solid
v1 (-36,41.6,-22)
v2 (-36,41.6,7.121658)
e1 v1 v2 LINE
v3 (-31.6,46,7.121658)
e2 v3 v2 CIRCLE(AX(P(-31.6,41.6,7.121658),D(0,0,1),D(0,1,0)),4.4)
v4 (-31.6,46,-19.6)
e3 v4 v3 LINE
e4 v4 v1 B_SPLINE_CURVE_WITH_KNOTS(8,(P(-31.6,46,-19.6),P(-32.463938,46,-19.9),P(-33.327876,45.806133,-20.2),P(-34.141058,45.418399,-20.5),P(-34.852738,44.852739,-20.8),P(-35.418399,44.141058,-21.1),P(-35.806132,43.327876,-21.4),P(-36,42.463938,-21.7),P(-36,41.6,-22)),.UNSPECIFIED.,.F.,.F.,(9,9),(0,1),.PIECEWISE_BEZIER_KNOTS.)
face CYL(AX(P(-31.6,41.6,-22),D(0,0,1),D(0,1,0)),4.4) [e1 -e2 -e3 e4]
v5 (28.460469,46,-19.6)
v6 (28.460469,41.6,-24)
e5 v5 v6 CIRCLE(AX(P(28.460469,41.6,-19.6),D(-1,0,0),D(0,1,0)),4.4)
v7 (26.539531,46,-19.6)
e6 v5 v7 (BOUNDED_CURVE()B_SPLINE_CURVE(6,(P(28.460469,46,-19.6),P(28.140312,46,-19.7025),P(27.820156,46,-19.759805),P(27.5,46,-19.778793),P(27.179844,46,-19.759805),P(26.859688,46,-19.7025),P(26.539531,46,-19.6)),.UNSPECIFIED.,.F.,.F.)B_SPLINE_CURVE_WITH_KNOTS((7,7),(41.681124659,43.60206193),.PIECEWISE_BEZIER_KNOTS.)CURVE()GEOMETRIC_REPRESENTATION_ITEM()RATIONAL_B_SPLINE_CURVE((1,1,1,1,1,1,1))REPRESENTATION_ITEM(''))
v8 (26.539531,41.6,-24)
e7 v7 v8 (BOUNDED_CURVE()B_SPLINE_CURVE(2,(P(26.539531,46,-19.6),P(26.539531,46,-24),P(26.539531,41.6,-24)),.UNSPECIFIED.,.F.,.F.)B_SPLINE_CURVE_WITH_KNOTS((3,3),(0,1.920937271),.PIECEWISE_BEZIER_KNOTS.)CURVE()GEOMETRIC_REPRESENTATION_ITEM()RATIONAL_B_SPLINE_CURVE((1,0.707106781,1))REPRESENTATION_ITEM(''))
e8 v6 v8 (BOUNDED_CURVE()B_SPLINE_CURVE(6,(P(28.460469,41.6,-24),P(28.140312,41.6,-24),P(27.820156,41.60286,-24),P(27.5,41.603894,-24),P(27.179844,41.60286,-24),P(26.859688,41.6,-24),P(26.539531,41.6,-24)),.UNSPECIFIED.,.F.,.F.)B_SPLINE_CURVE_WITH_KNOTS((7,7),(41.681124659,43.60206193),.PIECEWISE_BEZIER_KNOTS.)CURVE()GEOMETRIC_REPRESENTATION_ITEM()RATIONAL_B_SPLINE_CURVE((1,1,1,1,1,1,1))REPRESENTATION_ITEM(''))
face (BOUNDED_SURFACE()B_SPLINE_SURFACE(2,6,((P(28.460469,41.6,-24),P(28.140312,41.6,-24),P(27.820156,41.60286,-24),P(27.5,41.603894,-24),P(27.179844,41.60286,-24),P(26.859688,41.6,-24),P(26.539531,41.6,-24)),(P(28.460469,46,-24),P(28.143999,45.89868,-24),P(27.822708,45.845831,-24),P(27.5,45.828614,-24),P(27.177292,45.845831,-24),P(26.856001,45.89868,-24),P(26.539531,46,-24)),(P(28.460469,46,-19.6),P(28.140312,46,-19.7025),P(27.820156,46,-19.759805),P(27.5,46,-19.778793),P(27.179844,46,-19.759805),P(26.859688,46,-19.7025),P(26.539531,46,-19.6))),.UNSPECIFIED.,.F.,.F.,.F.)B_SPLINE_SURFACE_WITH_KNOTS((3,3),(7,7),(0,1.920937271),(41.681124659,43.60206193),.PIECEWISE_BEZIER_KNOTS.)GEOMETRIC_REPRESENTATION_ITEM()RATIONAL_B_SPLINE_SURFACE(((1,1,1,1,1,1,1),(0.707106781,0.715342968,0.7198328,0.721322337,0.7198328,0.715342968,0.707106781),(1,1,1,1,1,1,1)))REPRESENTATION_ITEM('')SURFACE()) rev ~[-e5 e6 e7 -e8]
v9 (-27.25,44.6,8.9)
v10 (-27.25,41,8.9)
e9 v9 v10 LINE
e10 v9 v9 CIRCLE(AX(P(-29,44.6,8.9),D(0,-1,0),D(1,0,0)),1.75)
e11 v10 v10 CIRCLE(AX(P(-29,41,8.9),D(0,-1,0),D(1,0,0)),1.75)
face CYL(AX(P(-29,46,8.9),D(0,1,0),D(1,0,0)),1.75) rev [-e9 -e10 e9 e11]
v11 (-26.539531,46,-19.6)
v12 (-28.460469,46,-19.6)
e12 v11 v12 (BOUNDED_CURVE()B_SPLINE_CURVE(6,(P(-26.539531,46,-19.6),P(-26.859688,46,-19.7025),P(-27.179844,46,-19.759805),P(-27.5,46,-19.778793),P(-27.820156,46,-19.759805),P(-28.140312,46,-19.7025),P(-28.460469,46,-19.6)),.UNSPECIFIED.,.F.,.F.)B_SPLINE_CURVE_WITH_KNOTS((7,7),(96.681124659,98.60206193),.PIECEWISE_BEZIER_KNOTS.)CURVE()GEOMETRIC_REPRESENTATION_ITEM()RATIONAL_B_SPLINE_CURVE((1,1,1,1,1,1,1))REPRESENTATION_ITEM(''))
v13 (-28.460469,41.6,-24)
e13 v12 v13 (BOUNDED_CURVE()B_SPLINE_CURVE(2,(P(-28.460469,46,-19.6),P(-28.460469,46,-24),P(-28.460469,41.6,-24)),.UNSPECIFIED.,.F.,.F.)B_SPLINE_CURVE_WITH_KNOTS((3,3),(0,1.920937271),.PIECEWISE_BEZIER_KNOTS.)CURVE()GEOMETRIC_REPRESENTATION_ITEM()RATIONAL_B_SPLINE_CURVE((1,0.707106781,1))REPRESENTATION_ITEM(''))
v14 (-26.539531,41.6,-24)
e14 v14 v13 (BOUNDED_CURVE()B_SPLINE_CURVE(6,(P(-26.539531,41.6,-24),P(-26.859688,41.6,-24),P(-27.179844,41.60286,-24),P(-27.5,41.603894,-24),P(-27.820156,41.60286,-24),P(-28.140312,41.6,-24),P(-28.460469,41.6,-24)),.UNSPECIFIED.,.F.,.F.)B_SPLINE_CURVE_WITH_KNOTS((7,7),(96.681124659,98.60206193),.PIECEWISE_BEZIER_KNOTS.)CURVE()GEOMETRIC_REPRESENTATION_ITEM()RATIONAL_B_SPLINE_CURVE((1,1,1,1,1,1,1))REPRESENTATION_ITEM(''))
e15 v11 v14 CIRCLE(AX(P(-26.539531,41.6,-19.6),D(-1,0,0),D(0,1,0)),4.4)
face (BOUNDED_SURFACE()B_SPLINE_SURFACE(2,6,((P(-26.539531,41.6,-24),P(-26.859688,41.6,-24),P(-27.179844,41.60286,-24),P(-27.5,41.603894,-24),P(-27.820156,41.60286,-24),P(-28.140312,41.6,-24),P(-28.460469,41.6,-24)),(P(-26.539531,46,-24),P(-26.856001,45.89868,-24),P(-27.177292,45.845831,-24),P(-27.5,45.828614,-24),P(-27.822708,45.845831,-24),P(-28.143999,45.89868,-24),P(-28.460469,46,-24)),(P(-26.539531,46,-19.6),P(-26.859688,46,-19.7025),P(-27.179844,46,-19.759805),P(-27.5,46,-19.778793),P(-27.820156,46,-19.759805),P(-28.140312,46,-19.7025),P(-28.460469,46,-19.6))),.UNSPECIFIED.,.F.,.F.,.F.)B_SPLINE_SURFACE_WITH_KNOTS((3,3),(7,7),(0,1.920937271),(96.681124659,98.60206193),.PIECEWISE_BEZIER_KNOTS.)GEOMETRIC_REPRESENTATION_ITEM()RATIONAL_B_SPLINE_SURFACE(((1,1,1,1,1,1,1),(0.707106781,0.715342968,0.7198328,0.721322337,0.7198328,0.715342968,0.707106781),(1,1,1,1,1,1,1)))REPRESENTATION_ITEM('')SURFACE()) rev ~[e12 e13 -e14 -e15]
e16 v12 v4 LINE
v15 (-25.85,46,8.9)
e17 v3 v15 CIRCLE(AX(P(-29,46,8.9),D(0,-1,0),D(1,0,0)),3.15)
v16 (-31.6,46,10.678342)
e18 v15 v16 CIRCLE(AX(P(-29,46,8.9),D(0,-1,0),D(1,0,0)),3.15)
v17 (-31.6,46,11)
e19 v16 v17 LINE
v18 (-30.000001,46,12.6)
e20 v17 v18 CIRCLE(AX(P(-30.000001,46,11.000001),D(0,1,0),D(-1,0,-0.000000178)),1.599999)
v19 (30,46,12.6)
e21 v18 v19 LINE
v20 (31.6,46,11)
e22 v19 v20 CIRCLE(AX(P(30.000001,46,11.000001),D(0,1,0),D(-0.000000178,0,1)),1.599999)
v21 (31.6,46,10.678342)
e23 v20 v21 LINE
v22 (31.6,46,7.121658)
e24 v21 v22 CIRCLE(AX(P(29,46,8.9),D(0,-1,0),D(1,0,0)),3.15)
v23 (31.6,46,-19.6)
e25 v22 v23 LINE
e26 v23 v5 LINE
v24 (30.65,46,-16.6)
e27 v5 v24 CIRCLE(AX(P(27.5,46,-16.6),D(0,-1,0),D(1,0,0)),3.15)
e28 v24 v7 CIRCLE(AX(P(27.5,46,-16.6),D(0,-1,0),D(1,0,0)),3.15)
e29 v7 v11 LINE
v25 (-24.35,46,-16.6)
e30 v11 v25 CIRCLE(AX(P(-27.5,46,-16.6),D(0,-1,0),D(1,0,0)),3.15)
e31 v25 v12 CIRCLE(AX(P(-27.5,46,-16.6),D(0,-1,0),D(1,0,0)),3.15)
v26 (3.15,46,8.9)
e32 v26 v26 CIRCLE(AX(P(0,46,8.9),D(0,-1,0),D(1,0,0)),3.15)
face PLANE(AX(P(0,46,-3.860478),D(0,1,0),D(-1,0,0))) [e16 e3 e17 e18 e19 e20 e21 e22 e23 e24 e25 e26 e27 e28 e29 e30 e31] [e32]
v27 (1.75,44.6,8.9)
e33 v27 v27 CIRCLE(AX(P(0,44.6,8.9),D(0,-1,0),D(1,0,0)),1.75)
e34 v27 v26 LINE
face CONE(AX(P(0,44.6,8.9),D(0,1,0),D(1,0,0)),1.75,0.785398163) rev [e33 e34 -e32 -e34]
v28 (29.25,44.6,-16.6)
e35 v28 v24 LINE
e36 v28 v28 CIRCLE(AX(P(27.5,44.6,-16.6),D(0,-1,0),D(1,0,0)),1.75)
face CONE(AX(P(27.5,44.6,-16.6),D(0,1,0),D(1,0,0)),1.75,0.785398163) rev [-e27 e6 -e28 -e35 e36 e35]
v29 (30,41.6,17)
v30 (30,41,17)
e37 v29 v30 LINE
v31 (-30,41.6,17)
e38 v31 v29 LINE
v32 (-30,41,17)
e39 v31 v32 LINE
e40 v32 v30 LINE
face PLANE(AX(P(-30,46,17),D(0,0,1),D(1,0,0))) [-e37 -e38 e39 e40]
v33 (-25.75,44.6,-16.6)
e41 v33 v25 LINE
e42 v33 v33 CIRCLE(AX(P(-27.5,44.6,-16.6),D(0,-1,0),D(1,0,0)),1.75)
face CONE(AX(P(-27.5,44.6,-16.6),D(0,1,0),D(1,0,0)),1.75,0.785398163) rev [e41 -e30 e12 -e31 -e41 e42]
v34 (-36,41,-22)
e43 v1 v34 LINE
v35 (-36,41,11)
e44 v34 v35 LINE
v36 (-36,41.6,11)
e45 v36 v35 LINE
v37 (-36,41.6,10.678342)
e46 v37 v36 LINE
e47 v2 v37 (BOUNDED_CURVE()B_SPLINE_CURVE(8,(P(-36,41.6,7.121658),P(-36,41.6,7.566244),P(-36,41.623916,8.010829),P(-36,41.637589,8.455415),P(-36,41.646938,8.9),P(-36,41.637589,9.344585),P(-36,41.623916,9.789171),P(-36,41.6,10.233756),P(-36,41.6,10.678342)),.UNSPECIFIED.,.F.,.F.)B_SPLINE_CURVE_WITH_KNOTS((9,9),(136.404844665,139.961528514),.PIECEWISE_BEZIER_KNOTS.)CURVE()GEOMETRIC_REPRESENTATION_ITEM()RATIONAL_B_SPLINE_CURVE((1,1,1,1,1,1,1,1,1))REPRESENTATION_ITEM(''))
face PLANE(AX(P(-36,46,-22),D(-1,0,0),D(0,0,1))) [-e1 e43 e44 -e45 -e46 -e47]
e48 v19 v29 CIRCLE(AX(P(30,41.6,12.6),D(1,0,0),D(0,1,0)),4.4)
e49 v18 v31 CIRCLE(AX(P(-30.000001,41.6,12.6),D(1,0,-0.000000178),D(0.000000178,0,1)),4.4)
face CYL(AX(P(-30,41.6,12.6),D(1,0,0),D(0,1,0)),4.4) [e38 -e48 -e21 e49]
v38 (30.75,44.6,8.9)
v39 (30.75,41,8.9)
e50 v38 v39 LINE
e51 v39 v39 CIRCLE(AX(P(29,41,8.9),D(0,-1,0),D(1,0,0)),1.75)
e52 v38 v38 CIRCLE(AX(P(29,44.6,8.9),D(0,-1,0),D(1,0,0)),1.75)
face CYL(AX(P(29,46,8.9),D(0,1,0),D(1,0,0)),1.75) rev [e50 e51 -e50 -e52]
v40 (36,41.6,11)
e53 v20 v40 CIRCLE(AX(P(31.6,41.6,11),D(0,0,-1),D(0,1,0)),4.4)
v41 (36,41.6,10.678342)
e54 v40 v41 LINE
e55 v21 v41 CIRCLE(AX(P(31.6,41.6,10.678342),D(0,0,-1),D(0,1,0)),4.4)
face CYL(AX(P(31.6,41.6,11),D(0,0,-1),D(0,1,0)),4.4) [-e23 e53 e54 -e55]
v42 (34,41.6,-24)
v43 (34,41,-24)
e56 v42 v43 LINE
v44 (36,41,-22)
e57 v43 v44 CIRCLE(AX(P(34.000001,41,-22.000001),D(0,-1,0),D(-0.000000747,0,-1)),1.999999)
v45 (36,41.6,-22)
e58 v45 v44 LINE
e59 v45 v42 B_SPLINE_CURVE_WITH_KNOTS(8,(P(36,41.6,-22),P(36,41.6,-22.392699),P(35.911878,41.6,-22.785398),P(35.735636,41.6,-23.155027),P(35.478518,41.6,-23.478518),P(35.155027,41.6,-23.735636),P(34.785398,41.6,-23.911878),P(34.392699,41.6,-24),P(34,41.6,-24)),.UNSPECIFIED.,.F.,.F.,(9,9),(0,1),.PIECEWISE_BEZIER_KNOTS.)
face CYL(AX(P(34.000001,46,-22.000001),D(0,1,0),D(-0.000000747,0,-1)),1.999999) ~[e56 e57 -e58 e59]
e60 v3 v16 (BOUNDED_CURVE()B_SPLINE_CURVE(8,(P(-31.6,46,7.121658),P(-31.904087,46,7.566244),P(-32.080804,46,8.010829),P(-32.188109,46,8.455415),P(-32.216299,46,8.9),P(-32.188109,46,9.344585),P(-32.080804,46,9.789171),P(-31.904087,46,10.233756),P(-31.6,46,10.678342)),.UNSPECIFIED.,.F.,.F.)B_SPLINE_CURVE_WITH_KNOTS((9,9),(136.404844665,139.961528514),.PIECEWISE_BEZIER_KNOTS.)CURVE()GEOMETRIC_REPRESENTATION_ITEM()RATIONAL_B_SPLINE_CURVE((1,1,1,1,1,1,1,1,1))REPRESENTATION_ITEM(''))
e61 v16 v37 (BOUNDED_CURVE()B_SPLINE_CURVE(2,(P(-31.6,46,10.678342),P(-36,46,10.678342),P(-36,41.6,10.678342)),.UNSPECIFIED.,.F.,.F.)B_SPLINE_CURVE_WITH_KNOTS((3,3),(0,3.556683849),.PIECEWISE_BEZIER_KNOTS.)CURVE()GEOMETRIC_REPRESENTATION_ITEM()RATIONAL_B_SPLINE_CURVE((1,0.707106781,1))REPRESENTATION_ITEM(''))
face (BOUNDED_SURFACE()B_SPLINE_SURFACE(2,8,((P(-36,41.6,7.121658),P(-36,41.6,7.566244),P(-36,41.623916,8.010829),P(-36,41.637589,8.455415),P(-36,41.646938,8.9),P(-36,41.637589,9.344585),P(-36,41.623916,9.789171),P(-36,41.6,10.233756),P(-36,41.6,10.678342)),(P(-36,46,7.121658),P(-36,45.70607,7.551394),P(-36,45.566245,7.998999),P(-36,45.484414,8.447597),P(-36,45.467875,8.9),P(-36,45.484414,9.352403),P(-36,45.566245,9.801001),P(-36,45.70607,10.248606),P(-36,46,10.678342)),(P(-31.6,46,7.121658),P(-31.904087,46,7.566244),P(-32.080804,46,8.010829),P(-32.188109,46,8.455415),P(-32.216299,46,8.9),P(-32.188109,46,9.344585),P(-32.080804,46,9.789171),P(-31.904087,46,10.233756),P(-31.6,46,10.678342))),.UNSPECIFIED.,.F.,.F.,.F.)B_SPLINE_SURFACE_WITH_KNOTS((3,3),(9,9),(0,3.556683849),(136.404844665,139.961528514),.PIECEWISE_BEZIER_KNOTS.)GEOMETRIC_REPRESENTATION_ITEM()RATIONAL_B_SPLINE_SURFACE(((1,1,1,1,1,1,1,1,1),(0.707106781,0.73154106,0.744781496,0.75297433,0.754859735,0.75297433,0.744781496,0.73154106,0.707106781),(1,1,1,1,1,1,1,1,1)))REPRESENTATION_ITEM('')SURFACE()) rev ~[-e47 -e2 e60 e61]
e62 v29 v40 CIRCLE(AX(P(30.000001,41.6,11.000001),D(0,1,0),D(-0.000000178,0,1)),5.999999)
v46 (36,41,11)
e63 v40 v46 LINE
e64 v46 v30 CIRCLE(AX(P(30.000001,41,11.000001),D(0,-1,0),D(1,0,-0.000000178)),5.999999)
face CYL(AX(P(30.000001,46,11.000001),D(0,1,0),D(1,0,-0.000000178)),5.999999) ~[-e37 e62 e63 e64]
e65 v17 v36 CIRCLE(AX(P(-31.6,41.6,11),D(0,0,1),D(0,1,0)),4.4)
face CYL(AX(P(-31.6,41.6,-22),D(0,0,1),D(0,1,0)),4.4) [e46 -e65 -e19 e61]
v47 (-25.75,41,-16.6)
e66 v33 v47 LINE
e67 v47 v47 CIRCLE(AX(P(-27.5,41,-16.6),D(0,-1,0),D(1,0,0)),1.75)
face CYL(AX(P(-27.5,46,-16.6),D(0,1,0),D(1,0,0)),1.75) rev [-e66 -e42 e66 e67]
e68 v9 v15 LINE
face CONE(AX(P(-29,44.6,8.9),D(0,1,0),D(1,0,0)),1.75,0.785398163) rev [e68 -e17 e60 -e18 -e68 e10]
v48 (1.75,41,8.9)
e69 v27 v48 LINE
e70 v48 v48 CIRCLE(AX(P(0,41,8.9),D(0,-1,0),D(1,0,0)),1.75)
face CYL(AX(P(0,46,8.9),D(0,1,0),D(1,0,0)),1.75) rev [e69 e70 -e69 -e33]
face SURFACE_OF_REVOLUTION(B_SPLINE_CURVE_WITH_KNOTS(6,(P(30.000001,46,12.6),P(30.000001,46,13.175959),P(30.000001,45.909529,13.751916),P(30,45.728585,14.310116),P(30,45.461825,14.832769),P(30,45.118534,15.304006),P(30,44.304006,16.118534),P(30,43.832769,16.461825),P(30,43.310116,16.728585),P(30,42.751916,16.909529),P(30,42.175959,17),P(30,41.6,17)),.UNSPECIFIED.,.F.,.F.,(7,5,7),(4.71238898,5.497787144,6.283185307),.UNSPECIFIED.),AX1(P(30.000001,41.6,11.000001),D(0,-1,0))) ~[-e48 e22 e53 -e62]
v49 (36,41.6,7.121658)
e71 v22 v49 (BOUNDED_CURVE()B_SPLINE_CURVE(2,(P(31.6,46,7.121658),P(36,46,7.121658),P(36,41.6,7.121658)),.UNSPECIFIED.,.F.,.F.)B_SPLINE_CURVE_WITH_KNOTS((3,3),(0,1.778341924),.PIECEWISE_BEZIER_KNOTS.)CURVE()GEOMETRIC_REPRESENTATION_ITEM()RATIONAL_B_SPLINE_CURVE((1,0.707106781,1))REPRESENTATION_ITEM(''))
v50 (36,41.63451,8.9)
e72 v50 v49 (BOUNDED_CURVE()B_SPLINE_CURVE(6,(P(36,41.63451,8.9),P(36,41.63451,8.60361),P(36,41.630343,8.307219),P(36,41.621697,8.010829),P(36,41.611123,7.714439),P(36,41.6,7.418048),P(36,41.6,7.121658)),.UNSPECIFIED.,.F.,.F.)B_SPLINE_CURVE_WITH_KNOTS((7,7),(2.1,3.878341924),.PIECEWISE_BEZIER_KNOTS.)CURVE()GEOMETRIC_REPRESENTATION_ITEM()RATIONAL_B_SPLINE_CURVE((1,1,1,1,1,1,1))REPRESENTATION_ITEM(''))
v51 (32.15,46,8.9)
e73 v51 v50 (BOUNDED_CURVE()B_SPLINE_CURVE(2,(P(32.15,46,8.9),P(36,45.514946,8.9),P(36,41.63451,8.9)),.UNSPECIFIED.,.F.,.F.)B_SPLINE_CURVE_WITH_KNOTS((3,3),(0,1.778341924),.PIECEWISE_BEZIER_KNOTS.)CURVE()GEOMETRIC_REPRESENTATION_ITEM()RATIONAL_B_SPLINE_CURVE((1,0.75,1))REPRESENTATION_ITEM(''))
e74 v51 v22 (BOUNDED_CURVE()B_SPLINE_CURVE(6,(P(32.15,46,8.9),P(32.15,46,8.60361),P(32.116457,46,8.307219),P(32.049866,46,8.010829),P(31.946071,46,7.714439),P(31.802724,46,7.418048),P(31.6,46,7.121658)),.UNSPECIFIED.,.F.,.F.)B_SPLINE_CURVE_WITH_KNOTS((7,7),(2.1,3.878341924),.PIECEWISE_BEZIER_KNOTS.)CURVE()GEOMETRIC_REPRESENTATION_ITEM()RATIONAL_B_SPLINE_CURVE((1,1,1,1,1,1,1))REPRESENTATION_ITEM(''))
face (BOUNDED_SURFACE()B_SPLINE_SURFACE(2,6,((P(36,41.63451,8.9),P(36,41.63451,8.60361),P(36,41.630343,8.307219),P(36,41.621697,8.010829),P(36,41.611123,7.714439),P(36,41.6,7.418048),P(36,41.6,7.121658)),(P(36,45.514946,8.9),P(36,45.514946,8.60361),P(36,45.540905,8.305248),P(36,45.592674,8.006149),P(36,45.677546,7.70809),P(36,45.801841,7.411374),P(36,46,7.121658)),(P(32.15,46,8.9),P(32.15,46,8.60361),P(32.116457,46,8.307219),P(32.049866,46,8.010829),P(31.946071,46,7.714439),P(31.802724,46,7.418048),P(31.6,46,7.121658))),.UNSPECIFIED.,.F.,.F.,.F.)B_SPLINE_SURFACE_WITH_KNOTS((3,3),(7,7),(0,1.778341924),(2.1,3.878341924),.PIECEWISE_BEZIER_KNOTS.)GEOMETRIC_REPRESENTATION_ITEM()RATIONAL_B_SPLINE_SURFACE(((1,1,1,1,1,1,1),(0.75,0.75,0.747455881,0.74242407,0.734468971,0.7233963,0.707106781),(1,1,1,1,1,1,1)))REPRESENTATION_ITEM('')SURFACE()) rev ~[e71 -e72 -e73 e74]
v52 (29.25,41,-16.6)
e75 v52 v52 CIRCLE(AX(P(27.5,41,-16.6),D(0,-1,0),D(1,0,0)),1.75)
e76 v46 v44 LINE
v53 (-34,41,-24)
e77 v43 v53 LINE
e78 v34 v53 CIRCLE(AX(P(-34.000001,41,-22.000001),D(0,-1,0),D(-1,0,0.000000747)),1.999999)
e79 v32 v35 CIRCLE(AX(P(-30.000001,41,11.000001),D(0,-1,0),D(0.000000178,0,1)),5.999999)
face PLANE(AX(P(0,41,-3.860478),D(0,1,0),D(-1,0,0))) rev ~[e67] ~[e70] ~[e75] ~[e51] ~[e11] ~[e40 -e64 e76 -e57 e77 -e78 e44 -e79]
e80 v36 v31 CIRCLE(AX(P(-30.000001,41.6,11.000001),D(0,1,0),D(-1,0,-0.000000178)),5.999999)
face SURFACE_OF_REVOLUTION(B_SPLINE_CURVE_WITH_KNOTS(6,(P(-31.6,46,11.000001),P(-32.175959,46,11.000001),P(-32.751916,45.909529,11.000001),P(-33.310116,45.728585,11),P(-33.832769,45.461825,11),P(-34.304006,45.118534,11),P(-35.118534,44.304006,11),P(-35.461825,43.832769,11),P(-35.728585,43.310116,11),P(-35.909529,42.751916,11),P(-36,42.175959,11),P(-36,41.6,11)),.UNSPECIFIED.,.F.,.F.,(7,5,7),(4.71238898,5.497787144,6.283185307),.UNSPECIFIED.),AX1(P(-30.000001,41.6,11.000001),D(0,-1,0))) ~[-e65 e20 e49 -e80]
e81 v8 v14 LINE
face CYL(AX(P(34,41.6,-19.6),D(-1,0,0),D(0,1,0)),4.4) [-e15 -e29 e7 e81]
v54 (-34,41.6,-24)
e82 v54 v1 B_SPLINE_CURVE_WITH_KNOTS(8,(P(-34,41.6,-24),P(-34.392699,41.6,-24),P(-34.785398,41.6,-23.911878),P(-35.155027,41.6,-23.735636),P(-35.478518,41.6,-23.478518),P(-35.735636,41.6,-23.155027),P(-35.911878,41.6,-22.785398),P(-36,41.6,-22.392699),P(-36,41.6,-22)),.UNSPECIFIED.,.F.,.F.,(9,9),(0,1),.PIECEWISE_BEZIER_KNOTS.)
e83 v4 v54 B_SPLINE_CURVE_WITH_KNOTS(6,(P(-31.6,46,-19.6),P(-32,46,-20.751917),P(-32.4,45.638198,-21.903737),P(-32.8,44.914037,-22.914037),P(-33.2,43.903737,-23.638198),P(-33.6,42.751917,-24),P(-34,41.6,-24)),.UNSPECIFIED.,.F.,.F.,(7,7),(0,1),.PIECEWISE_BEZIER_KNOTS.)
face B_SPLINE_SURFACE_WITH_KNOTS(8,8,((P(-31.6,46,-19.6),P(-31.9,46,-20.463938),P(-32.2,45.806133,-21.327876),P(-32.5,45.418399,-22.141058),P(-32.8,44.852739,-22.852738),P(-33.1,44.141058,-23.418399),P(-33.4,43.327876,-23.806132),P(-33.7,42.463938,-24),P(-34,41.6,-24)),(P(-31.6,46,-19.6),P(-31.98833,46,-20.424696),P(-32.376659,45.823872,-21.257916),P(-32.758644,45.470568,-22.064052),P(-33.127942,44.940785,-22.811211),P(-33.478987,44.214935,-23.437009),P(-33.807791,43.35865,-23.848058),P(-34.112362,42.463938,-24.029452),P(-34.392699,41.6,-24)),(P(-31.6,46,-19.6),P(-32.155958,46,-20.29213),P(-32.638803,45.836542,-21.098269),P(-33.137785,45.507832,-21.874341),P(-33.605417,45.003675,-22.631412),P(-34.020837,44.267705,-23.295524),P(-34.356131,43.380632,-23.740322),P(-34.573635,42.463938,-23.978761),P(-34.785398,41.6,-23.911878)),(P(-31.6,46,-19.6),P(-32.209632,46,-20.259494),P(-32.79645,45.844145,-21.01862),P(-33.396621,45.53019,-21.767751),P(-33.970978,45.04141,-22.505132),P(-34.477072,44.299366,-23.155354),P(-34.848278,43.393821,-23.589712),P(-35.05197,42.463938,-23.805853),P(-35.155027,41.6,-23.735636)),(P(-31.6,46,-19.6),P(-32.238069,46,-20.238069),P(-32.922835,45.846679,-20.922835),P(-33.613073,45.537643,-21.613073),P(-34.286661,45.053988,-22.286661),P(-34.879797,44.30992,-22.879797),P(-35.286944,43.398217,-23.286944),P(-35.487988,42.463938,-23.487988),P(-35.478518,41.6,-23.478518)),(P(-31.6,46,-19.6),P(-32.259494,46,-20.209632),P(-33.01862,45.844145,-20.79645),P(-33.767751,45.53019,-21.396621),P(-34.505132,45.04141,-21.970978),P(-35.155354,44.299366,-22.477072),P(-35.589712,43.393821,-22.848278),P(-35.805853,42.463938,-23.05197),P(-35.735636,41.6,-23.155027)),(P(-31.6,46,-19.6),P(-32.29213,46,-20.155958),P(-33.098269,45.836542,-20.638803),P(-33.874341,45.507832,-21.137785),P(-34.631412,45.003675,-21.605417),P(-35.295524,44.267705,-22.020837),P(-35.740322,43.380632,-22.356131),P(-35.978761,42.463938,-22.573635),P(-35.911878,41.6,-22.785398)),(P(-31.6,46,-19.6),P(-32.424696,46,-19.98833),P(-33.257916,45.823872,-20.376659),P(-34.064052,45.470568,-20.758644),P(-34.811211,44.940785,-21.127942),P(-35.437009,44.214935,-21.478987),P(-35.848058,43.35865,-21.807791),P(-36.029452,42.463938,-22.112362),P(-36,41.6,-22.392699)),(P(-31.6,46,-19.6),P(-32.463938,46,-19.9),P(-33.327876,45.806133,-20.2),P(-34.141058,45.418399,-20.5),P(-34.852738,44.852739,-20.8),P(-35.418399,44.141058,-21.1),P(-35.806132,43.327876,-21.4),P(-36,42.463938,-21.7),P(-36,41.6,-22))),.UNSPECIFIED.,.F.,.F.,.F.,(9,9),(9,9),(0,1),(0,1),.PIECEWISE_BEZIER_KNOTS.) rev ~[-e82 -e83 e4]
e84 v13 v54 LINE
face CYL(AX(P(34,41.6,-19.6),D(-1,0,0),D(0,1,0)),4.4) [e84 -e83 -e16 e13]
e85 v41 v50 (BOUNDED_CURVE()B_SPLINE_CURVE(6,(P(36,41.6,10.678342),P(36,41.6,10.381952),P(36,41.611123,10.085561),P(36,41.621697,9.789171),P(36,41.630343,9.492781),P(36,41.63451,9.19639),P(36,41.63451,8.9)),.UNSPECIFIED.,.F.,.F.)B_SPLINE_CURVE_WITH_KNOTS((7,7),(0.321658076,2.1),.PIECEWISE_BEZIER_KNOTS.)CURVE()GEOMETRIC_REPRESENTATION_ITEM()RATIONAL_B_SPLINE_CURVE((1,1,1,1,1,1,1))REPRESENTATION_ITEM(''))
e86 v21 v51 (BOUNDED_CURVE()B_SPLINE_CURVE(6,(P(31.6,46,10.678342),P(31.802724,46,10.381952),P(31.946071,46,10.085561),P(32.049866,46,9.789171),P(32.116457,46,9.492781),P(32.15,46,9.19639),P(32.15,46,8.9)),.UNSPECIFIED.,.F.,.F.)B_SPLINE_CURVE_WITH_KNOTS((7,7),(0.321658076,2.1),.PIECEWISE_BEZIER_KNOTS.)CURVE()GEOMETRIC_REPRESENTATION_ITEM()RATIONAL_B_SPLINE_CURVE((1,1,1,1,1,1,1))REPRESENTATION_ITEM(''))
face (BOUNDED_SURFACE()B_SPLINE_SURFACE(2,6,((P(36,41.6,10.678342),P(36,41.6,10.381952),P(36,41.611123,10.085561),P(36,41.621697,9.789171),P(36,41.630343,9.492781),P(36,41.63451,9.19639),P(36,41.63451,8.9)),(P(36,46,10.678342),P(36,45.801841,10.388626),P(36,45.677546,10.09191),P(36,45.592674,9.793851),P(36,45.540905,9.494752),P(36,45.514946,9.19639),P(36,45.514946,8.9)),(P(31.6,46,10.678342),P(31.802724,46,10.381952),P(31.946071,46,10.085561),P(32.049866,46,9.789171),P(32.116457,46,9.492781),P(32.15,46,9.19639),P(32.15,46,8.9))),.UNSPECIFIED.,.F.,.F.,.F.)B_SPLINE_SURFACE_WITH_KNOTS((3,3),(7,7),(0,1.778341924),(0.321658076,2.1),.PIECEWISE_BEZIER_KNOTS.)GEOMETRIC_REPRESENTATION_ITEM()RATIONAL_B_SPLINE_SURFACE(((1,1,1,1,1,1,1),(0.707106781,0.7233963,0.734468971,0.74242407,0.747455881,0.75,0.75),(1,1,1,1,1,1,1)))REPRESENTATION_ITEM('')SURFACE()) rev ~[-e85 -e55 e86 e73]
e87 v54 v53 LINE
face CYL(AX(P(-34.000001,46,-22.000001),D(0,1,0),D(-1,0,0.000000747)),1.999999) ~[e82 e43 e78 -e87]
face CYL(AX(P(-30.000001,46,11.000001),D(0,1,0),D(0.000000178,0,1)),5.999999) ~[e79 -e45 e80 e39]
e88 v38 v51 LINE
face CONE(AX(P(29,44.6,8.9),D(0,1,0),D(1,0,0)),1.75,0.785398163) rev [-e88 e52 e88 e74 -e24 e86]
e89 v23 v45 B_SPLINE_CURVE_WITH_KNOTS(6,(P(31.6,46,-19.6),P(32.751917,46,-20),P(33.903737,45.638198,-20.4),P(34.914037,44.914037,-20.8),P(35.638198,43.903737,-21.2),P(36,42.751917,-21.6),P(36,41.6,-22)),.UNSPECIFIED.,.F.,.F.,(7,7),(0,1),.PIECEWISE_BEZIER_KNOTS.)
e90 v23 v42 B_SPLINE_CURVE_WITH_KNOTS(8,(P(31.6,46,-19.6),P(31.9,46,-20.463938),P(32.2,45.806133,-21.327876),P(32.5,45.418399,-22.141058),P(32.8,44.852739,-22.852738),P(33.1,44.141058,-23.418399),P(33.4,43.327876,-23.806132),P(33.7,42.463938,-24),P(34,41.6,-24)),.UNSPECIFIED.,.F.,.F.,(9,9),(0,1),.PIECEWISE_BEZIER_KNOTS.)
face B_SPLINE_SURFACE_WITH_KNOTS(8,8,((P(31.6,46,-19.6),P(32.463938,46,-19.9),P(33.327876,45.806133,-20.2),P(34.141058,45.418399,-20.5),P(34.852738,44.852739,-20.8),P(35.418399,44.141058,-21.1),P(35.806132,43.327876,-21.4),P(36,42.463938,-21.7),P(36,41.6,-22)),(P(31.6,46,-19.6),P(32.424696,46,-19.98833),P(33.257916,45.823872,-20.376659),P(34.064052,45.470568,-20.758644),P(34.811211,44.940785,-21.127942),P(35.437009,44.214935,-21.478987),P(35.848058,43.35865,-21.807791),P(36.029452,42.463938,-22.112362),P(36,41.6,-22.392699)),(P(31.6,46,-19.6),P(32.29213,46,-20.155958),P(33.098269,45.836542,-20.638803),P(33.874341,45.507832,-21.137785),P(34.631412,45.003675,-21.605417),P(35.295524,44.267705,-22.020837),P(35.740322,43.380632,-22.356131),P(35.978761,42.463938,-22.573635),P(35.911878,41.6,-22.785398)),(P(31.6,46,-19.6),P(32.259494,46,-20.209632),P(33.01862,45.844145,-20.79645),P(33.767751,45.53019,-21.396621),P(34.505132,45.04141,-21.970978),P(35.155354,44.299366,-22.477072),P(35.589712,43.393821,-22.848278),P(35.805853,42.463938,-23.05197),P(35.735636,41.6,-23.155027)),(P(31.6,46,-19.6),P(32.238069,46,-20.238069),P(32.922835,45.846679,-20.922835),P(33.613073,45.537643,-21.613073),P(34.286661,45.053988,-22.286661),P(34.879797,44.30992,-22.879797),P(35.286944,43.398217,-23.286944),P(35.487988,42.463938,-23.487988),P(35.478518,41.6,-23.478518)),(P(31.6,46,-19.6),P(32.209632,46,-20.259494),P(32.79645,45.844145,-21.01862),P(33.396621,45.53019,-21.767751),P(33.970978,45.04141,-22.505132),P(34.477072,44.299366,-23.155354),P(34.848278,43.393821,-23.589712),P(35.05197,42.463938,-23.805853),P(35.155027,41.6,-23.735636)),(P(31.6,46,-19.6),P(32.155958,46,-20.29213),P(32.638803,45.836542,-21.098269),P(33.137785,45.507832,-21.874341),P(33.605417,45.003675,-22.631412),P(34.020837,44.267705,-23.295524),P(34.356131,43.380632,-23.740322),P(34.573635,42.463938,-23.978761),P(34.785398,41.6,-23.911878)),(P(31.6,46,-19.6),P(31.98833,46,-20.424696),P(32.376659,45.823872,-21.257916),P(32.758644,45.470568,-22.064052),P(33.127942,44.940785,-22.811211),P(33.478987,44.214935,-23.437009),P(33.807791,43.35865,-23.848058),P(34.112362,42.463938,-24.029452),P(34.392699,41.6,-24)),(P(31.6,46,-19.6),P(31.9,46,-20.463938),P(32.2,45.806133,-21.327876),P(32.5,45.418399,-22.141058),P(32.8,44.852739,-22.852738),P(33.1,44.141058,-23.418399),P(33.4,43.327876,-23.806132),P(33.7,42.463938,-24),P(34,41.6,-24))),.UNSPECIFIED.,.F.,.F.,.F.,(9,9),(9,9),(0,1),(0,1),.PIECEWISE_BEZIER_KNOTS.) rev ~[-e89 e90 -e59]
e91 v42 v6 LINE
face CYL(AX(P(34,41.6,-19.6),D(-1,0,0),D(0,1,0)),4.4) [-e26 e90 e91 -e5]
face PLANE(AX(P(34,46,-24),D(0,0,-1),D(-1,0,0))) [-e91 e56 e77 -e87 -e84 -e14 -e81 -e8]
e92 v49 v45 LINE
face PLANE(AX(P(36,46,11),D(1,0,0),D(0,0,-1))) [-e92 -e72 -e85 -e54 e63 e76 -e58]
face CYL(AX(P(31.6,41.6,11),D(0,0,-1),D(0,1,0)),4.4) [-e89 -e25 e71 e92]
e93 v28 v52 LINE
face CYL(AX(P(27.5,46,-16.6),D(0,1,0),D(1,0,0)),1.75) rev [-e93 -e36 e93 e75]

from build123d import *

# Parameters (mm, degrees)
SKETCH032_R  = 1.75
PAD005_DEPTH = 5
CHAMFER_SIZE = 1.4
FILLET002_R  = 4.4


with BuildPart() as part:
    # Sketch032 → Pad005 (new body)
    with BuildSketch(Plane.XZ):
        with BuildLine():
            Line((-30, 17), (30, 17))
            ThreePointArc((36, 11), (34.242641, 15.242641), (30, 17))
            Line((36, 11), (36, -22))
            ThreePointArc((34, -24), (35.414214, -23.414214), (36, -22))
            Line((34, -24), (-34, -24))
            ThreePointArc((-36, -22), (-35.414214, -23.414214), (-34, -24))
            Line((-36, -22), (-36, 11))
            ThreePointArc((-30, 17), (-34.242641, 15.242641), (-36, 11))
        make_face()
        with Locations((-29, 8.9)):
            Circle(SKETCH032_R, mode=Mode.SUBTRACT)
        with Locations((0, 8.9)):
            Circle(SKETCH032_R, mode=Mode.SUBTRACT)
        with Locations((29, 8.9)):
            Circle(SKETCH032_R, mode=Mode.SUBTRACT)
        with Locations((-27.5, -16.6)):
            Circle(SKETCH032_R, mode=Mode.SUBTRACT)
        with Locations((27.5, -16.6)):
            Circle(SKETCH032_R, mode=Mode.SUBTRACT)
    extrude(amount=PAD005_DEPTH)

    # Chamfer
    chamfer_edges = [part.edges().sort_by_distance(p)[0] for p in [
        (25.75, 0, -16.6),
        (-30.75, 0, 8.9),
        (-1.75, 0, 8.9),
        (27.25, 0, 8.9),
        (-29.25, 0, -16.6),
    ]]
    chamfer(chamfer_edges, length=CHAMFER_SIZE)

    # Fillet002
    fillet002_edges = [part.edges().sort_by_distance(p)[0] for p in [
        (36, 0, -5.5),
        (34.242641, 0, 15.242641),
        (0, 0, 17),
        (-34.242641, 0, 15.242641),
        (-36, 0, -5.5),
        (-35.414214, 0, -23.414214),
        (0, 0, -24),
        (35.414214, 0, -23.414214),
    ]]
    fillet(fillet002_edges, radius=FILLET002_R)


with BuildPart() as part_1:
    # Body placement: moved
    add(part.part.moved(Location((0, 46, 0))))


solid = part_1.part
